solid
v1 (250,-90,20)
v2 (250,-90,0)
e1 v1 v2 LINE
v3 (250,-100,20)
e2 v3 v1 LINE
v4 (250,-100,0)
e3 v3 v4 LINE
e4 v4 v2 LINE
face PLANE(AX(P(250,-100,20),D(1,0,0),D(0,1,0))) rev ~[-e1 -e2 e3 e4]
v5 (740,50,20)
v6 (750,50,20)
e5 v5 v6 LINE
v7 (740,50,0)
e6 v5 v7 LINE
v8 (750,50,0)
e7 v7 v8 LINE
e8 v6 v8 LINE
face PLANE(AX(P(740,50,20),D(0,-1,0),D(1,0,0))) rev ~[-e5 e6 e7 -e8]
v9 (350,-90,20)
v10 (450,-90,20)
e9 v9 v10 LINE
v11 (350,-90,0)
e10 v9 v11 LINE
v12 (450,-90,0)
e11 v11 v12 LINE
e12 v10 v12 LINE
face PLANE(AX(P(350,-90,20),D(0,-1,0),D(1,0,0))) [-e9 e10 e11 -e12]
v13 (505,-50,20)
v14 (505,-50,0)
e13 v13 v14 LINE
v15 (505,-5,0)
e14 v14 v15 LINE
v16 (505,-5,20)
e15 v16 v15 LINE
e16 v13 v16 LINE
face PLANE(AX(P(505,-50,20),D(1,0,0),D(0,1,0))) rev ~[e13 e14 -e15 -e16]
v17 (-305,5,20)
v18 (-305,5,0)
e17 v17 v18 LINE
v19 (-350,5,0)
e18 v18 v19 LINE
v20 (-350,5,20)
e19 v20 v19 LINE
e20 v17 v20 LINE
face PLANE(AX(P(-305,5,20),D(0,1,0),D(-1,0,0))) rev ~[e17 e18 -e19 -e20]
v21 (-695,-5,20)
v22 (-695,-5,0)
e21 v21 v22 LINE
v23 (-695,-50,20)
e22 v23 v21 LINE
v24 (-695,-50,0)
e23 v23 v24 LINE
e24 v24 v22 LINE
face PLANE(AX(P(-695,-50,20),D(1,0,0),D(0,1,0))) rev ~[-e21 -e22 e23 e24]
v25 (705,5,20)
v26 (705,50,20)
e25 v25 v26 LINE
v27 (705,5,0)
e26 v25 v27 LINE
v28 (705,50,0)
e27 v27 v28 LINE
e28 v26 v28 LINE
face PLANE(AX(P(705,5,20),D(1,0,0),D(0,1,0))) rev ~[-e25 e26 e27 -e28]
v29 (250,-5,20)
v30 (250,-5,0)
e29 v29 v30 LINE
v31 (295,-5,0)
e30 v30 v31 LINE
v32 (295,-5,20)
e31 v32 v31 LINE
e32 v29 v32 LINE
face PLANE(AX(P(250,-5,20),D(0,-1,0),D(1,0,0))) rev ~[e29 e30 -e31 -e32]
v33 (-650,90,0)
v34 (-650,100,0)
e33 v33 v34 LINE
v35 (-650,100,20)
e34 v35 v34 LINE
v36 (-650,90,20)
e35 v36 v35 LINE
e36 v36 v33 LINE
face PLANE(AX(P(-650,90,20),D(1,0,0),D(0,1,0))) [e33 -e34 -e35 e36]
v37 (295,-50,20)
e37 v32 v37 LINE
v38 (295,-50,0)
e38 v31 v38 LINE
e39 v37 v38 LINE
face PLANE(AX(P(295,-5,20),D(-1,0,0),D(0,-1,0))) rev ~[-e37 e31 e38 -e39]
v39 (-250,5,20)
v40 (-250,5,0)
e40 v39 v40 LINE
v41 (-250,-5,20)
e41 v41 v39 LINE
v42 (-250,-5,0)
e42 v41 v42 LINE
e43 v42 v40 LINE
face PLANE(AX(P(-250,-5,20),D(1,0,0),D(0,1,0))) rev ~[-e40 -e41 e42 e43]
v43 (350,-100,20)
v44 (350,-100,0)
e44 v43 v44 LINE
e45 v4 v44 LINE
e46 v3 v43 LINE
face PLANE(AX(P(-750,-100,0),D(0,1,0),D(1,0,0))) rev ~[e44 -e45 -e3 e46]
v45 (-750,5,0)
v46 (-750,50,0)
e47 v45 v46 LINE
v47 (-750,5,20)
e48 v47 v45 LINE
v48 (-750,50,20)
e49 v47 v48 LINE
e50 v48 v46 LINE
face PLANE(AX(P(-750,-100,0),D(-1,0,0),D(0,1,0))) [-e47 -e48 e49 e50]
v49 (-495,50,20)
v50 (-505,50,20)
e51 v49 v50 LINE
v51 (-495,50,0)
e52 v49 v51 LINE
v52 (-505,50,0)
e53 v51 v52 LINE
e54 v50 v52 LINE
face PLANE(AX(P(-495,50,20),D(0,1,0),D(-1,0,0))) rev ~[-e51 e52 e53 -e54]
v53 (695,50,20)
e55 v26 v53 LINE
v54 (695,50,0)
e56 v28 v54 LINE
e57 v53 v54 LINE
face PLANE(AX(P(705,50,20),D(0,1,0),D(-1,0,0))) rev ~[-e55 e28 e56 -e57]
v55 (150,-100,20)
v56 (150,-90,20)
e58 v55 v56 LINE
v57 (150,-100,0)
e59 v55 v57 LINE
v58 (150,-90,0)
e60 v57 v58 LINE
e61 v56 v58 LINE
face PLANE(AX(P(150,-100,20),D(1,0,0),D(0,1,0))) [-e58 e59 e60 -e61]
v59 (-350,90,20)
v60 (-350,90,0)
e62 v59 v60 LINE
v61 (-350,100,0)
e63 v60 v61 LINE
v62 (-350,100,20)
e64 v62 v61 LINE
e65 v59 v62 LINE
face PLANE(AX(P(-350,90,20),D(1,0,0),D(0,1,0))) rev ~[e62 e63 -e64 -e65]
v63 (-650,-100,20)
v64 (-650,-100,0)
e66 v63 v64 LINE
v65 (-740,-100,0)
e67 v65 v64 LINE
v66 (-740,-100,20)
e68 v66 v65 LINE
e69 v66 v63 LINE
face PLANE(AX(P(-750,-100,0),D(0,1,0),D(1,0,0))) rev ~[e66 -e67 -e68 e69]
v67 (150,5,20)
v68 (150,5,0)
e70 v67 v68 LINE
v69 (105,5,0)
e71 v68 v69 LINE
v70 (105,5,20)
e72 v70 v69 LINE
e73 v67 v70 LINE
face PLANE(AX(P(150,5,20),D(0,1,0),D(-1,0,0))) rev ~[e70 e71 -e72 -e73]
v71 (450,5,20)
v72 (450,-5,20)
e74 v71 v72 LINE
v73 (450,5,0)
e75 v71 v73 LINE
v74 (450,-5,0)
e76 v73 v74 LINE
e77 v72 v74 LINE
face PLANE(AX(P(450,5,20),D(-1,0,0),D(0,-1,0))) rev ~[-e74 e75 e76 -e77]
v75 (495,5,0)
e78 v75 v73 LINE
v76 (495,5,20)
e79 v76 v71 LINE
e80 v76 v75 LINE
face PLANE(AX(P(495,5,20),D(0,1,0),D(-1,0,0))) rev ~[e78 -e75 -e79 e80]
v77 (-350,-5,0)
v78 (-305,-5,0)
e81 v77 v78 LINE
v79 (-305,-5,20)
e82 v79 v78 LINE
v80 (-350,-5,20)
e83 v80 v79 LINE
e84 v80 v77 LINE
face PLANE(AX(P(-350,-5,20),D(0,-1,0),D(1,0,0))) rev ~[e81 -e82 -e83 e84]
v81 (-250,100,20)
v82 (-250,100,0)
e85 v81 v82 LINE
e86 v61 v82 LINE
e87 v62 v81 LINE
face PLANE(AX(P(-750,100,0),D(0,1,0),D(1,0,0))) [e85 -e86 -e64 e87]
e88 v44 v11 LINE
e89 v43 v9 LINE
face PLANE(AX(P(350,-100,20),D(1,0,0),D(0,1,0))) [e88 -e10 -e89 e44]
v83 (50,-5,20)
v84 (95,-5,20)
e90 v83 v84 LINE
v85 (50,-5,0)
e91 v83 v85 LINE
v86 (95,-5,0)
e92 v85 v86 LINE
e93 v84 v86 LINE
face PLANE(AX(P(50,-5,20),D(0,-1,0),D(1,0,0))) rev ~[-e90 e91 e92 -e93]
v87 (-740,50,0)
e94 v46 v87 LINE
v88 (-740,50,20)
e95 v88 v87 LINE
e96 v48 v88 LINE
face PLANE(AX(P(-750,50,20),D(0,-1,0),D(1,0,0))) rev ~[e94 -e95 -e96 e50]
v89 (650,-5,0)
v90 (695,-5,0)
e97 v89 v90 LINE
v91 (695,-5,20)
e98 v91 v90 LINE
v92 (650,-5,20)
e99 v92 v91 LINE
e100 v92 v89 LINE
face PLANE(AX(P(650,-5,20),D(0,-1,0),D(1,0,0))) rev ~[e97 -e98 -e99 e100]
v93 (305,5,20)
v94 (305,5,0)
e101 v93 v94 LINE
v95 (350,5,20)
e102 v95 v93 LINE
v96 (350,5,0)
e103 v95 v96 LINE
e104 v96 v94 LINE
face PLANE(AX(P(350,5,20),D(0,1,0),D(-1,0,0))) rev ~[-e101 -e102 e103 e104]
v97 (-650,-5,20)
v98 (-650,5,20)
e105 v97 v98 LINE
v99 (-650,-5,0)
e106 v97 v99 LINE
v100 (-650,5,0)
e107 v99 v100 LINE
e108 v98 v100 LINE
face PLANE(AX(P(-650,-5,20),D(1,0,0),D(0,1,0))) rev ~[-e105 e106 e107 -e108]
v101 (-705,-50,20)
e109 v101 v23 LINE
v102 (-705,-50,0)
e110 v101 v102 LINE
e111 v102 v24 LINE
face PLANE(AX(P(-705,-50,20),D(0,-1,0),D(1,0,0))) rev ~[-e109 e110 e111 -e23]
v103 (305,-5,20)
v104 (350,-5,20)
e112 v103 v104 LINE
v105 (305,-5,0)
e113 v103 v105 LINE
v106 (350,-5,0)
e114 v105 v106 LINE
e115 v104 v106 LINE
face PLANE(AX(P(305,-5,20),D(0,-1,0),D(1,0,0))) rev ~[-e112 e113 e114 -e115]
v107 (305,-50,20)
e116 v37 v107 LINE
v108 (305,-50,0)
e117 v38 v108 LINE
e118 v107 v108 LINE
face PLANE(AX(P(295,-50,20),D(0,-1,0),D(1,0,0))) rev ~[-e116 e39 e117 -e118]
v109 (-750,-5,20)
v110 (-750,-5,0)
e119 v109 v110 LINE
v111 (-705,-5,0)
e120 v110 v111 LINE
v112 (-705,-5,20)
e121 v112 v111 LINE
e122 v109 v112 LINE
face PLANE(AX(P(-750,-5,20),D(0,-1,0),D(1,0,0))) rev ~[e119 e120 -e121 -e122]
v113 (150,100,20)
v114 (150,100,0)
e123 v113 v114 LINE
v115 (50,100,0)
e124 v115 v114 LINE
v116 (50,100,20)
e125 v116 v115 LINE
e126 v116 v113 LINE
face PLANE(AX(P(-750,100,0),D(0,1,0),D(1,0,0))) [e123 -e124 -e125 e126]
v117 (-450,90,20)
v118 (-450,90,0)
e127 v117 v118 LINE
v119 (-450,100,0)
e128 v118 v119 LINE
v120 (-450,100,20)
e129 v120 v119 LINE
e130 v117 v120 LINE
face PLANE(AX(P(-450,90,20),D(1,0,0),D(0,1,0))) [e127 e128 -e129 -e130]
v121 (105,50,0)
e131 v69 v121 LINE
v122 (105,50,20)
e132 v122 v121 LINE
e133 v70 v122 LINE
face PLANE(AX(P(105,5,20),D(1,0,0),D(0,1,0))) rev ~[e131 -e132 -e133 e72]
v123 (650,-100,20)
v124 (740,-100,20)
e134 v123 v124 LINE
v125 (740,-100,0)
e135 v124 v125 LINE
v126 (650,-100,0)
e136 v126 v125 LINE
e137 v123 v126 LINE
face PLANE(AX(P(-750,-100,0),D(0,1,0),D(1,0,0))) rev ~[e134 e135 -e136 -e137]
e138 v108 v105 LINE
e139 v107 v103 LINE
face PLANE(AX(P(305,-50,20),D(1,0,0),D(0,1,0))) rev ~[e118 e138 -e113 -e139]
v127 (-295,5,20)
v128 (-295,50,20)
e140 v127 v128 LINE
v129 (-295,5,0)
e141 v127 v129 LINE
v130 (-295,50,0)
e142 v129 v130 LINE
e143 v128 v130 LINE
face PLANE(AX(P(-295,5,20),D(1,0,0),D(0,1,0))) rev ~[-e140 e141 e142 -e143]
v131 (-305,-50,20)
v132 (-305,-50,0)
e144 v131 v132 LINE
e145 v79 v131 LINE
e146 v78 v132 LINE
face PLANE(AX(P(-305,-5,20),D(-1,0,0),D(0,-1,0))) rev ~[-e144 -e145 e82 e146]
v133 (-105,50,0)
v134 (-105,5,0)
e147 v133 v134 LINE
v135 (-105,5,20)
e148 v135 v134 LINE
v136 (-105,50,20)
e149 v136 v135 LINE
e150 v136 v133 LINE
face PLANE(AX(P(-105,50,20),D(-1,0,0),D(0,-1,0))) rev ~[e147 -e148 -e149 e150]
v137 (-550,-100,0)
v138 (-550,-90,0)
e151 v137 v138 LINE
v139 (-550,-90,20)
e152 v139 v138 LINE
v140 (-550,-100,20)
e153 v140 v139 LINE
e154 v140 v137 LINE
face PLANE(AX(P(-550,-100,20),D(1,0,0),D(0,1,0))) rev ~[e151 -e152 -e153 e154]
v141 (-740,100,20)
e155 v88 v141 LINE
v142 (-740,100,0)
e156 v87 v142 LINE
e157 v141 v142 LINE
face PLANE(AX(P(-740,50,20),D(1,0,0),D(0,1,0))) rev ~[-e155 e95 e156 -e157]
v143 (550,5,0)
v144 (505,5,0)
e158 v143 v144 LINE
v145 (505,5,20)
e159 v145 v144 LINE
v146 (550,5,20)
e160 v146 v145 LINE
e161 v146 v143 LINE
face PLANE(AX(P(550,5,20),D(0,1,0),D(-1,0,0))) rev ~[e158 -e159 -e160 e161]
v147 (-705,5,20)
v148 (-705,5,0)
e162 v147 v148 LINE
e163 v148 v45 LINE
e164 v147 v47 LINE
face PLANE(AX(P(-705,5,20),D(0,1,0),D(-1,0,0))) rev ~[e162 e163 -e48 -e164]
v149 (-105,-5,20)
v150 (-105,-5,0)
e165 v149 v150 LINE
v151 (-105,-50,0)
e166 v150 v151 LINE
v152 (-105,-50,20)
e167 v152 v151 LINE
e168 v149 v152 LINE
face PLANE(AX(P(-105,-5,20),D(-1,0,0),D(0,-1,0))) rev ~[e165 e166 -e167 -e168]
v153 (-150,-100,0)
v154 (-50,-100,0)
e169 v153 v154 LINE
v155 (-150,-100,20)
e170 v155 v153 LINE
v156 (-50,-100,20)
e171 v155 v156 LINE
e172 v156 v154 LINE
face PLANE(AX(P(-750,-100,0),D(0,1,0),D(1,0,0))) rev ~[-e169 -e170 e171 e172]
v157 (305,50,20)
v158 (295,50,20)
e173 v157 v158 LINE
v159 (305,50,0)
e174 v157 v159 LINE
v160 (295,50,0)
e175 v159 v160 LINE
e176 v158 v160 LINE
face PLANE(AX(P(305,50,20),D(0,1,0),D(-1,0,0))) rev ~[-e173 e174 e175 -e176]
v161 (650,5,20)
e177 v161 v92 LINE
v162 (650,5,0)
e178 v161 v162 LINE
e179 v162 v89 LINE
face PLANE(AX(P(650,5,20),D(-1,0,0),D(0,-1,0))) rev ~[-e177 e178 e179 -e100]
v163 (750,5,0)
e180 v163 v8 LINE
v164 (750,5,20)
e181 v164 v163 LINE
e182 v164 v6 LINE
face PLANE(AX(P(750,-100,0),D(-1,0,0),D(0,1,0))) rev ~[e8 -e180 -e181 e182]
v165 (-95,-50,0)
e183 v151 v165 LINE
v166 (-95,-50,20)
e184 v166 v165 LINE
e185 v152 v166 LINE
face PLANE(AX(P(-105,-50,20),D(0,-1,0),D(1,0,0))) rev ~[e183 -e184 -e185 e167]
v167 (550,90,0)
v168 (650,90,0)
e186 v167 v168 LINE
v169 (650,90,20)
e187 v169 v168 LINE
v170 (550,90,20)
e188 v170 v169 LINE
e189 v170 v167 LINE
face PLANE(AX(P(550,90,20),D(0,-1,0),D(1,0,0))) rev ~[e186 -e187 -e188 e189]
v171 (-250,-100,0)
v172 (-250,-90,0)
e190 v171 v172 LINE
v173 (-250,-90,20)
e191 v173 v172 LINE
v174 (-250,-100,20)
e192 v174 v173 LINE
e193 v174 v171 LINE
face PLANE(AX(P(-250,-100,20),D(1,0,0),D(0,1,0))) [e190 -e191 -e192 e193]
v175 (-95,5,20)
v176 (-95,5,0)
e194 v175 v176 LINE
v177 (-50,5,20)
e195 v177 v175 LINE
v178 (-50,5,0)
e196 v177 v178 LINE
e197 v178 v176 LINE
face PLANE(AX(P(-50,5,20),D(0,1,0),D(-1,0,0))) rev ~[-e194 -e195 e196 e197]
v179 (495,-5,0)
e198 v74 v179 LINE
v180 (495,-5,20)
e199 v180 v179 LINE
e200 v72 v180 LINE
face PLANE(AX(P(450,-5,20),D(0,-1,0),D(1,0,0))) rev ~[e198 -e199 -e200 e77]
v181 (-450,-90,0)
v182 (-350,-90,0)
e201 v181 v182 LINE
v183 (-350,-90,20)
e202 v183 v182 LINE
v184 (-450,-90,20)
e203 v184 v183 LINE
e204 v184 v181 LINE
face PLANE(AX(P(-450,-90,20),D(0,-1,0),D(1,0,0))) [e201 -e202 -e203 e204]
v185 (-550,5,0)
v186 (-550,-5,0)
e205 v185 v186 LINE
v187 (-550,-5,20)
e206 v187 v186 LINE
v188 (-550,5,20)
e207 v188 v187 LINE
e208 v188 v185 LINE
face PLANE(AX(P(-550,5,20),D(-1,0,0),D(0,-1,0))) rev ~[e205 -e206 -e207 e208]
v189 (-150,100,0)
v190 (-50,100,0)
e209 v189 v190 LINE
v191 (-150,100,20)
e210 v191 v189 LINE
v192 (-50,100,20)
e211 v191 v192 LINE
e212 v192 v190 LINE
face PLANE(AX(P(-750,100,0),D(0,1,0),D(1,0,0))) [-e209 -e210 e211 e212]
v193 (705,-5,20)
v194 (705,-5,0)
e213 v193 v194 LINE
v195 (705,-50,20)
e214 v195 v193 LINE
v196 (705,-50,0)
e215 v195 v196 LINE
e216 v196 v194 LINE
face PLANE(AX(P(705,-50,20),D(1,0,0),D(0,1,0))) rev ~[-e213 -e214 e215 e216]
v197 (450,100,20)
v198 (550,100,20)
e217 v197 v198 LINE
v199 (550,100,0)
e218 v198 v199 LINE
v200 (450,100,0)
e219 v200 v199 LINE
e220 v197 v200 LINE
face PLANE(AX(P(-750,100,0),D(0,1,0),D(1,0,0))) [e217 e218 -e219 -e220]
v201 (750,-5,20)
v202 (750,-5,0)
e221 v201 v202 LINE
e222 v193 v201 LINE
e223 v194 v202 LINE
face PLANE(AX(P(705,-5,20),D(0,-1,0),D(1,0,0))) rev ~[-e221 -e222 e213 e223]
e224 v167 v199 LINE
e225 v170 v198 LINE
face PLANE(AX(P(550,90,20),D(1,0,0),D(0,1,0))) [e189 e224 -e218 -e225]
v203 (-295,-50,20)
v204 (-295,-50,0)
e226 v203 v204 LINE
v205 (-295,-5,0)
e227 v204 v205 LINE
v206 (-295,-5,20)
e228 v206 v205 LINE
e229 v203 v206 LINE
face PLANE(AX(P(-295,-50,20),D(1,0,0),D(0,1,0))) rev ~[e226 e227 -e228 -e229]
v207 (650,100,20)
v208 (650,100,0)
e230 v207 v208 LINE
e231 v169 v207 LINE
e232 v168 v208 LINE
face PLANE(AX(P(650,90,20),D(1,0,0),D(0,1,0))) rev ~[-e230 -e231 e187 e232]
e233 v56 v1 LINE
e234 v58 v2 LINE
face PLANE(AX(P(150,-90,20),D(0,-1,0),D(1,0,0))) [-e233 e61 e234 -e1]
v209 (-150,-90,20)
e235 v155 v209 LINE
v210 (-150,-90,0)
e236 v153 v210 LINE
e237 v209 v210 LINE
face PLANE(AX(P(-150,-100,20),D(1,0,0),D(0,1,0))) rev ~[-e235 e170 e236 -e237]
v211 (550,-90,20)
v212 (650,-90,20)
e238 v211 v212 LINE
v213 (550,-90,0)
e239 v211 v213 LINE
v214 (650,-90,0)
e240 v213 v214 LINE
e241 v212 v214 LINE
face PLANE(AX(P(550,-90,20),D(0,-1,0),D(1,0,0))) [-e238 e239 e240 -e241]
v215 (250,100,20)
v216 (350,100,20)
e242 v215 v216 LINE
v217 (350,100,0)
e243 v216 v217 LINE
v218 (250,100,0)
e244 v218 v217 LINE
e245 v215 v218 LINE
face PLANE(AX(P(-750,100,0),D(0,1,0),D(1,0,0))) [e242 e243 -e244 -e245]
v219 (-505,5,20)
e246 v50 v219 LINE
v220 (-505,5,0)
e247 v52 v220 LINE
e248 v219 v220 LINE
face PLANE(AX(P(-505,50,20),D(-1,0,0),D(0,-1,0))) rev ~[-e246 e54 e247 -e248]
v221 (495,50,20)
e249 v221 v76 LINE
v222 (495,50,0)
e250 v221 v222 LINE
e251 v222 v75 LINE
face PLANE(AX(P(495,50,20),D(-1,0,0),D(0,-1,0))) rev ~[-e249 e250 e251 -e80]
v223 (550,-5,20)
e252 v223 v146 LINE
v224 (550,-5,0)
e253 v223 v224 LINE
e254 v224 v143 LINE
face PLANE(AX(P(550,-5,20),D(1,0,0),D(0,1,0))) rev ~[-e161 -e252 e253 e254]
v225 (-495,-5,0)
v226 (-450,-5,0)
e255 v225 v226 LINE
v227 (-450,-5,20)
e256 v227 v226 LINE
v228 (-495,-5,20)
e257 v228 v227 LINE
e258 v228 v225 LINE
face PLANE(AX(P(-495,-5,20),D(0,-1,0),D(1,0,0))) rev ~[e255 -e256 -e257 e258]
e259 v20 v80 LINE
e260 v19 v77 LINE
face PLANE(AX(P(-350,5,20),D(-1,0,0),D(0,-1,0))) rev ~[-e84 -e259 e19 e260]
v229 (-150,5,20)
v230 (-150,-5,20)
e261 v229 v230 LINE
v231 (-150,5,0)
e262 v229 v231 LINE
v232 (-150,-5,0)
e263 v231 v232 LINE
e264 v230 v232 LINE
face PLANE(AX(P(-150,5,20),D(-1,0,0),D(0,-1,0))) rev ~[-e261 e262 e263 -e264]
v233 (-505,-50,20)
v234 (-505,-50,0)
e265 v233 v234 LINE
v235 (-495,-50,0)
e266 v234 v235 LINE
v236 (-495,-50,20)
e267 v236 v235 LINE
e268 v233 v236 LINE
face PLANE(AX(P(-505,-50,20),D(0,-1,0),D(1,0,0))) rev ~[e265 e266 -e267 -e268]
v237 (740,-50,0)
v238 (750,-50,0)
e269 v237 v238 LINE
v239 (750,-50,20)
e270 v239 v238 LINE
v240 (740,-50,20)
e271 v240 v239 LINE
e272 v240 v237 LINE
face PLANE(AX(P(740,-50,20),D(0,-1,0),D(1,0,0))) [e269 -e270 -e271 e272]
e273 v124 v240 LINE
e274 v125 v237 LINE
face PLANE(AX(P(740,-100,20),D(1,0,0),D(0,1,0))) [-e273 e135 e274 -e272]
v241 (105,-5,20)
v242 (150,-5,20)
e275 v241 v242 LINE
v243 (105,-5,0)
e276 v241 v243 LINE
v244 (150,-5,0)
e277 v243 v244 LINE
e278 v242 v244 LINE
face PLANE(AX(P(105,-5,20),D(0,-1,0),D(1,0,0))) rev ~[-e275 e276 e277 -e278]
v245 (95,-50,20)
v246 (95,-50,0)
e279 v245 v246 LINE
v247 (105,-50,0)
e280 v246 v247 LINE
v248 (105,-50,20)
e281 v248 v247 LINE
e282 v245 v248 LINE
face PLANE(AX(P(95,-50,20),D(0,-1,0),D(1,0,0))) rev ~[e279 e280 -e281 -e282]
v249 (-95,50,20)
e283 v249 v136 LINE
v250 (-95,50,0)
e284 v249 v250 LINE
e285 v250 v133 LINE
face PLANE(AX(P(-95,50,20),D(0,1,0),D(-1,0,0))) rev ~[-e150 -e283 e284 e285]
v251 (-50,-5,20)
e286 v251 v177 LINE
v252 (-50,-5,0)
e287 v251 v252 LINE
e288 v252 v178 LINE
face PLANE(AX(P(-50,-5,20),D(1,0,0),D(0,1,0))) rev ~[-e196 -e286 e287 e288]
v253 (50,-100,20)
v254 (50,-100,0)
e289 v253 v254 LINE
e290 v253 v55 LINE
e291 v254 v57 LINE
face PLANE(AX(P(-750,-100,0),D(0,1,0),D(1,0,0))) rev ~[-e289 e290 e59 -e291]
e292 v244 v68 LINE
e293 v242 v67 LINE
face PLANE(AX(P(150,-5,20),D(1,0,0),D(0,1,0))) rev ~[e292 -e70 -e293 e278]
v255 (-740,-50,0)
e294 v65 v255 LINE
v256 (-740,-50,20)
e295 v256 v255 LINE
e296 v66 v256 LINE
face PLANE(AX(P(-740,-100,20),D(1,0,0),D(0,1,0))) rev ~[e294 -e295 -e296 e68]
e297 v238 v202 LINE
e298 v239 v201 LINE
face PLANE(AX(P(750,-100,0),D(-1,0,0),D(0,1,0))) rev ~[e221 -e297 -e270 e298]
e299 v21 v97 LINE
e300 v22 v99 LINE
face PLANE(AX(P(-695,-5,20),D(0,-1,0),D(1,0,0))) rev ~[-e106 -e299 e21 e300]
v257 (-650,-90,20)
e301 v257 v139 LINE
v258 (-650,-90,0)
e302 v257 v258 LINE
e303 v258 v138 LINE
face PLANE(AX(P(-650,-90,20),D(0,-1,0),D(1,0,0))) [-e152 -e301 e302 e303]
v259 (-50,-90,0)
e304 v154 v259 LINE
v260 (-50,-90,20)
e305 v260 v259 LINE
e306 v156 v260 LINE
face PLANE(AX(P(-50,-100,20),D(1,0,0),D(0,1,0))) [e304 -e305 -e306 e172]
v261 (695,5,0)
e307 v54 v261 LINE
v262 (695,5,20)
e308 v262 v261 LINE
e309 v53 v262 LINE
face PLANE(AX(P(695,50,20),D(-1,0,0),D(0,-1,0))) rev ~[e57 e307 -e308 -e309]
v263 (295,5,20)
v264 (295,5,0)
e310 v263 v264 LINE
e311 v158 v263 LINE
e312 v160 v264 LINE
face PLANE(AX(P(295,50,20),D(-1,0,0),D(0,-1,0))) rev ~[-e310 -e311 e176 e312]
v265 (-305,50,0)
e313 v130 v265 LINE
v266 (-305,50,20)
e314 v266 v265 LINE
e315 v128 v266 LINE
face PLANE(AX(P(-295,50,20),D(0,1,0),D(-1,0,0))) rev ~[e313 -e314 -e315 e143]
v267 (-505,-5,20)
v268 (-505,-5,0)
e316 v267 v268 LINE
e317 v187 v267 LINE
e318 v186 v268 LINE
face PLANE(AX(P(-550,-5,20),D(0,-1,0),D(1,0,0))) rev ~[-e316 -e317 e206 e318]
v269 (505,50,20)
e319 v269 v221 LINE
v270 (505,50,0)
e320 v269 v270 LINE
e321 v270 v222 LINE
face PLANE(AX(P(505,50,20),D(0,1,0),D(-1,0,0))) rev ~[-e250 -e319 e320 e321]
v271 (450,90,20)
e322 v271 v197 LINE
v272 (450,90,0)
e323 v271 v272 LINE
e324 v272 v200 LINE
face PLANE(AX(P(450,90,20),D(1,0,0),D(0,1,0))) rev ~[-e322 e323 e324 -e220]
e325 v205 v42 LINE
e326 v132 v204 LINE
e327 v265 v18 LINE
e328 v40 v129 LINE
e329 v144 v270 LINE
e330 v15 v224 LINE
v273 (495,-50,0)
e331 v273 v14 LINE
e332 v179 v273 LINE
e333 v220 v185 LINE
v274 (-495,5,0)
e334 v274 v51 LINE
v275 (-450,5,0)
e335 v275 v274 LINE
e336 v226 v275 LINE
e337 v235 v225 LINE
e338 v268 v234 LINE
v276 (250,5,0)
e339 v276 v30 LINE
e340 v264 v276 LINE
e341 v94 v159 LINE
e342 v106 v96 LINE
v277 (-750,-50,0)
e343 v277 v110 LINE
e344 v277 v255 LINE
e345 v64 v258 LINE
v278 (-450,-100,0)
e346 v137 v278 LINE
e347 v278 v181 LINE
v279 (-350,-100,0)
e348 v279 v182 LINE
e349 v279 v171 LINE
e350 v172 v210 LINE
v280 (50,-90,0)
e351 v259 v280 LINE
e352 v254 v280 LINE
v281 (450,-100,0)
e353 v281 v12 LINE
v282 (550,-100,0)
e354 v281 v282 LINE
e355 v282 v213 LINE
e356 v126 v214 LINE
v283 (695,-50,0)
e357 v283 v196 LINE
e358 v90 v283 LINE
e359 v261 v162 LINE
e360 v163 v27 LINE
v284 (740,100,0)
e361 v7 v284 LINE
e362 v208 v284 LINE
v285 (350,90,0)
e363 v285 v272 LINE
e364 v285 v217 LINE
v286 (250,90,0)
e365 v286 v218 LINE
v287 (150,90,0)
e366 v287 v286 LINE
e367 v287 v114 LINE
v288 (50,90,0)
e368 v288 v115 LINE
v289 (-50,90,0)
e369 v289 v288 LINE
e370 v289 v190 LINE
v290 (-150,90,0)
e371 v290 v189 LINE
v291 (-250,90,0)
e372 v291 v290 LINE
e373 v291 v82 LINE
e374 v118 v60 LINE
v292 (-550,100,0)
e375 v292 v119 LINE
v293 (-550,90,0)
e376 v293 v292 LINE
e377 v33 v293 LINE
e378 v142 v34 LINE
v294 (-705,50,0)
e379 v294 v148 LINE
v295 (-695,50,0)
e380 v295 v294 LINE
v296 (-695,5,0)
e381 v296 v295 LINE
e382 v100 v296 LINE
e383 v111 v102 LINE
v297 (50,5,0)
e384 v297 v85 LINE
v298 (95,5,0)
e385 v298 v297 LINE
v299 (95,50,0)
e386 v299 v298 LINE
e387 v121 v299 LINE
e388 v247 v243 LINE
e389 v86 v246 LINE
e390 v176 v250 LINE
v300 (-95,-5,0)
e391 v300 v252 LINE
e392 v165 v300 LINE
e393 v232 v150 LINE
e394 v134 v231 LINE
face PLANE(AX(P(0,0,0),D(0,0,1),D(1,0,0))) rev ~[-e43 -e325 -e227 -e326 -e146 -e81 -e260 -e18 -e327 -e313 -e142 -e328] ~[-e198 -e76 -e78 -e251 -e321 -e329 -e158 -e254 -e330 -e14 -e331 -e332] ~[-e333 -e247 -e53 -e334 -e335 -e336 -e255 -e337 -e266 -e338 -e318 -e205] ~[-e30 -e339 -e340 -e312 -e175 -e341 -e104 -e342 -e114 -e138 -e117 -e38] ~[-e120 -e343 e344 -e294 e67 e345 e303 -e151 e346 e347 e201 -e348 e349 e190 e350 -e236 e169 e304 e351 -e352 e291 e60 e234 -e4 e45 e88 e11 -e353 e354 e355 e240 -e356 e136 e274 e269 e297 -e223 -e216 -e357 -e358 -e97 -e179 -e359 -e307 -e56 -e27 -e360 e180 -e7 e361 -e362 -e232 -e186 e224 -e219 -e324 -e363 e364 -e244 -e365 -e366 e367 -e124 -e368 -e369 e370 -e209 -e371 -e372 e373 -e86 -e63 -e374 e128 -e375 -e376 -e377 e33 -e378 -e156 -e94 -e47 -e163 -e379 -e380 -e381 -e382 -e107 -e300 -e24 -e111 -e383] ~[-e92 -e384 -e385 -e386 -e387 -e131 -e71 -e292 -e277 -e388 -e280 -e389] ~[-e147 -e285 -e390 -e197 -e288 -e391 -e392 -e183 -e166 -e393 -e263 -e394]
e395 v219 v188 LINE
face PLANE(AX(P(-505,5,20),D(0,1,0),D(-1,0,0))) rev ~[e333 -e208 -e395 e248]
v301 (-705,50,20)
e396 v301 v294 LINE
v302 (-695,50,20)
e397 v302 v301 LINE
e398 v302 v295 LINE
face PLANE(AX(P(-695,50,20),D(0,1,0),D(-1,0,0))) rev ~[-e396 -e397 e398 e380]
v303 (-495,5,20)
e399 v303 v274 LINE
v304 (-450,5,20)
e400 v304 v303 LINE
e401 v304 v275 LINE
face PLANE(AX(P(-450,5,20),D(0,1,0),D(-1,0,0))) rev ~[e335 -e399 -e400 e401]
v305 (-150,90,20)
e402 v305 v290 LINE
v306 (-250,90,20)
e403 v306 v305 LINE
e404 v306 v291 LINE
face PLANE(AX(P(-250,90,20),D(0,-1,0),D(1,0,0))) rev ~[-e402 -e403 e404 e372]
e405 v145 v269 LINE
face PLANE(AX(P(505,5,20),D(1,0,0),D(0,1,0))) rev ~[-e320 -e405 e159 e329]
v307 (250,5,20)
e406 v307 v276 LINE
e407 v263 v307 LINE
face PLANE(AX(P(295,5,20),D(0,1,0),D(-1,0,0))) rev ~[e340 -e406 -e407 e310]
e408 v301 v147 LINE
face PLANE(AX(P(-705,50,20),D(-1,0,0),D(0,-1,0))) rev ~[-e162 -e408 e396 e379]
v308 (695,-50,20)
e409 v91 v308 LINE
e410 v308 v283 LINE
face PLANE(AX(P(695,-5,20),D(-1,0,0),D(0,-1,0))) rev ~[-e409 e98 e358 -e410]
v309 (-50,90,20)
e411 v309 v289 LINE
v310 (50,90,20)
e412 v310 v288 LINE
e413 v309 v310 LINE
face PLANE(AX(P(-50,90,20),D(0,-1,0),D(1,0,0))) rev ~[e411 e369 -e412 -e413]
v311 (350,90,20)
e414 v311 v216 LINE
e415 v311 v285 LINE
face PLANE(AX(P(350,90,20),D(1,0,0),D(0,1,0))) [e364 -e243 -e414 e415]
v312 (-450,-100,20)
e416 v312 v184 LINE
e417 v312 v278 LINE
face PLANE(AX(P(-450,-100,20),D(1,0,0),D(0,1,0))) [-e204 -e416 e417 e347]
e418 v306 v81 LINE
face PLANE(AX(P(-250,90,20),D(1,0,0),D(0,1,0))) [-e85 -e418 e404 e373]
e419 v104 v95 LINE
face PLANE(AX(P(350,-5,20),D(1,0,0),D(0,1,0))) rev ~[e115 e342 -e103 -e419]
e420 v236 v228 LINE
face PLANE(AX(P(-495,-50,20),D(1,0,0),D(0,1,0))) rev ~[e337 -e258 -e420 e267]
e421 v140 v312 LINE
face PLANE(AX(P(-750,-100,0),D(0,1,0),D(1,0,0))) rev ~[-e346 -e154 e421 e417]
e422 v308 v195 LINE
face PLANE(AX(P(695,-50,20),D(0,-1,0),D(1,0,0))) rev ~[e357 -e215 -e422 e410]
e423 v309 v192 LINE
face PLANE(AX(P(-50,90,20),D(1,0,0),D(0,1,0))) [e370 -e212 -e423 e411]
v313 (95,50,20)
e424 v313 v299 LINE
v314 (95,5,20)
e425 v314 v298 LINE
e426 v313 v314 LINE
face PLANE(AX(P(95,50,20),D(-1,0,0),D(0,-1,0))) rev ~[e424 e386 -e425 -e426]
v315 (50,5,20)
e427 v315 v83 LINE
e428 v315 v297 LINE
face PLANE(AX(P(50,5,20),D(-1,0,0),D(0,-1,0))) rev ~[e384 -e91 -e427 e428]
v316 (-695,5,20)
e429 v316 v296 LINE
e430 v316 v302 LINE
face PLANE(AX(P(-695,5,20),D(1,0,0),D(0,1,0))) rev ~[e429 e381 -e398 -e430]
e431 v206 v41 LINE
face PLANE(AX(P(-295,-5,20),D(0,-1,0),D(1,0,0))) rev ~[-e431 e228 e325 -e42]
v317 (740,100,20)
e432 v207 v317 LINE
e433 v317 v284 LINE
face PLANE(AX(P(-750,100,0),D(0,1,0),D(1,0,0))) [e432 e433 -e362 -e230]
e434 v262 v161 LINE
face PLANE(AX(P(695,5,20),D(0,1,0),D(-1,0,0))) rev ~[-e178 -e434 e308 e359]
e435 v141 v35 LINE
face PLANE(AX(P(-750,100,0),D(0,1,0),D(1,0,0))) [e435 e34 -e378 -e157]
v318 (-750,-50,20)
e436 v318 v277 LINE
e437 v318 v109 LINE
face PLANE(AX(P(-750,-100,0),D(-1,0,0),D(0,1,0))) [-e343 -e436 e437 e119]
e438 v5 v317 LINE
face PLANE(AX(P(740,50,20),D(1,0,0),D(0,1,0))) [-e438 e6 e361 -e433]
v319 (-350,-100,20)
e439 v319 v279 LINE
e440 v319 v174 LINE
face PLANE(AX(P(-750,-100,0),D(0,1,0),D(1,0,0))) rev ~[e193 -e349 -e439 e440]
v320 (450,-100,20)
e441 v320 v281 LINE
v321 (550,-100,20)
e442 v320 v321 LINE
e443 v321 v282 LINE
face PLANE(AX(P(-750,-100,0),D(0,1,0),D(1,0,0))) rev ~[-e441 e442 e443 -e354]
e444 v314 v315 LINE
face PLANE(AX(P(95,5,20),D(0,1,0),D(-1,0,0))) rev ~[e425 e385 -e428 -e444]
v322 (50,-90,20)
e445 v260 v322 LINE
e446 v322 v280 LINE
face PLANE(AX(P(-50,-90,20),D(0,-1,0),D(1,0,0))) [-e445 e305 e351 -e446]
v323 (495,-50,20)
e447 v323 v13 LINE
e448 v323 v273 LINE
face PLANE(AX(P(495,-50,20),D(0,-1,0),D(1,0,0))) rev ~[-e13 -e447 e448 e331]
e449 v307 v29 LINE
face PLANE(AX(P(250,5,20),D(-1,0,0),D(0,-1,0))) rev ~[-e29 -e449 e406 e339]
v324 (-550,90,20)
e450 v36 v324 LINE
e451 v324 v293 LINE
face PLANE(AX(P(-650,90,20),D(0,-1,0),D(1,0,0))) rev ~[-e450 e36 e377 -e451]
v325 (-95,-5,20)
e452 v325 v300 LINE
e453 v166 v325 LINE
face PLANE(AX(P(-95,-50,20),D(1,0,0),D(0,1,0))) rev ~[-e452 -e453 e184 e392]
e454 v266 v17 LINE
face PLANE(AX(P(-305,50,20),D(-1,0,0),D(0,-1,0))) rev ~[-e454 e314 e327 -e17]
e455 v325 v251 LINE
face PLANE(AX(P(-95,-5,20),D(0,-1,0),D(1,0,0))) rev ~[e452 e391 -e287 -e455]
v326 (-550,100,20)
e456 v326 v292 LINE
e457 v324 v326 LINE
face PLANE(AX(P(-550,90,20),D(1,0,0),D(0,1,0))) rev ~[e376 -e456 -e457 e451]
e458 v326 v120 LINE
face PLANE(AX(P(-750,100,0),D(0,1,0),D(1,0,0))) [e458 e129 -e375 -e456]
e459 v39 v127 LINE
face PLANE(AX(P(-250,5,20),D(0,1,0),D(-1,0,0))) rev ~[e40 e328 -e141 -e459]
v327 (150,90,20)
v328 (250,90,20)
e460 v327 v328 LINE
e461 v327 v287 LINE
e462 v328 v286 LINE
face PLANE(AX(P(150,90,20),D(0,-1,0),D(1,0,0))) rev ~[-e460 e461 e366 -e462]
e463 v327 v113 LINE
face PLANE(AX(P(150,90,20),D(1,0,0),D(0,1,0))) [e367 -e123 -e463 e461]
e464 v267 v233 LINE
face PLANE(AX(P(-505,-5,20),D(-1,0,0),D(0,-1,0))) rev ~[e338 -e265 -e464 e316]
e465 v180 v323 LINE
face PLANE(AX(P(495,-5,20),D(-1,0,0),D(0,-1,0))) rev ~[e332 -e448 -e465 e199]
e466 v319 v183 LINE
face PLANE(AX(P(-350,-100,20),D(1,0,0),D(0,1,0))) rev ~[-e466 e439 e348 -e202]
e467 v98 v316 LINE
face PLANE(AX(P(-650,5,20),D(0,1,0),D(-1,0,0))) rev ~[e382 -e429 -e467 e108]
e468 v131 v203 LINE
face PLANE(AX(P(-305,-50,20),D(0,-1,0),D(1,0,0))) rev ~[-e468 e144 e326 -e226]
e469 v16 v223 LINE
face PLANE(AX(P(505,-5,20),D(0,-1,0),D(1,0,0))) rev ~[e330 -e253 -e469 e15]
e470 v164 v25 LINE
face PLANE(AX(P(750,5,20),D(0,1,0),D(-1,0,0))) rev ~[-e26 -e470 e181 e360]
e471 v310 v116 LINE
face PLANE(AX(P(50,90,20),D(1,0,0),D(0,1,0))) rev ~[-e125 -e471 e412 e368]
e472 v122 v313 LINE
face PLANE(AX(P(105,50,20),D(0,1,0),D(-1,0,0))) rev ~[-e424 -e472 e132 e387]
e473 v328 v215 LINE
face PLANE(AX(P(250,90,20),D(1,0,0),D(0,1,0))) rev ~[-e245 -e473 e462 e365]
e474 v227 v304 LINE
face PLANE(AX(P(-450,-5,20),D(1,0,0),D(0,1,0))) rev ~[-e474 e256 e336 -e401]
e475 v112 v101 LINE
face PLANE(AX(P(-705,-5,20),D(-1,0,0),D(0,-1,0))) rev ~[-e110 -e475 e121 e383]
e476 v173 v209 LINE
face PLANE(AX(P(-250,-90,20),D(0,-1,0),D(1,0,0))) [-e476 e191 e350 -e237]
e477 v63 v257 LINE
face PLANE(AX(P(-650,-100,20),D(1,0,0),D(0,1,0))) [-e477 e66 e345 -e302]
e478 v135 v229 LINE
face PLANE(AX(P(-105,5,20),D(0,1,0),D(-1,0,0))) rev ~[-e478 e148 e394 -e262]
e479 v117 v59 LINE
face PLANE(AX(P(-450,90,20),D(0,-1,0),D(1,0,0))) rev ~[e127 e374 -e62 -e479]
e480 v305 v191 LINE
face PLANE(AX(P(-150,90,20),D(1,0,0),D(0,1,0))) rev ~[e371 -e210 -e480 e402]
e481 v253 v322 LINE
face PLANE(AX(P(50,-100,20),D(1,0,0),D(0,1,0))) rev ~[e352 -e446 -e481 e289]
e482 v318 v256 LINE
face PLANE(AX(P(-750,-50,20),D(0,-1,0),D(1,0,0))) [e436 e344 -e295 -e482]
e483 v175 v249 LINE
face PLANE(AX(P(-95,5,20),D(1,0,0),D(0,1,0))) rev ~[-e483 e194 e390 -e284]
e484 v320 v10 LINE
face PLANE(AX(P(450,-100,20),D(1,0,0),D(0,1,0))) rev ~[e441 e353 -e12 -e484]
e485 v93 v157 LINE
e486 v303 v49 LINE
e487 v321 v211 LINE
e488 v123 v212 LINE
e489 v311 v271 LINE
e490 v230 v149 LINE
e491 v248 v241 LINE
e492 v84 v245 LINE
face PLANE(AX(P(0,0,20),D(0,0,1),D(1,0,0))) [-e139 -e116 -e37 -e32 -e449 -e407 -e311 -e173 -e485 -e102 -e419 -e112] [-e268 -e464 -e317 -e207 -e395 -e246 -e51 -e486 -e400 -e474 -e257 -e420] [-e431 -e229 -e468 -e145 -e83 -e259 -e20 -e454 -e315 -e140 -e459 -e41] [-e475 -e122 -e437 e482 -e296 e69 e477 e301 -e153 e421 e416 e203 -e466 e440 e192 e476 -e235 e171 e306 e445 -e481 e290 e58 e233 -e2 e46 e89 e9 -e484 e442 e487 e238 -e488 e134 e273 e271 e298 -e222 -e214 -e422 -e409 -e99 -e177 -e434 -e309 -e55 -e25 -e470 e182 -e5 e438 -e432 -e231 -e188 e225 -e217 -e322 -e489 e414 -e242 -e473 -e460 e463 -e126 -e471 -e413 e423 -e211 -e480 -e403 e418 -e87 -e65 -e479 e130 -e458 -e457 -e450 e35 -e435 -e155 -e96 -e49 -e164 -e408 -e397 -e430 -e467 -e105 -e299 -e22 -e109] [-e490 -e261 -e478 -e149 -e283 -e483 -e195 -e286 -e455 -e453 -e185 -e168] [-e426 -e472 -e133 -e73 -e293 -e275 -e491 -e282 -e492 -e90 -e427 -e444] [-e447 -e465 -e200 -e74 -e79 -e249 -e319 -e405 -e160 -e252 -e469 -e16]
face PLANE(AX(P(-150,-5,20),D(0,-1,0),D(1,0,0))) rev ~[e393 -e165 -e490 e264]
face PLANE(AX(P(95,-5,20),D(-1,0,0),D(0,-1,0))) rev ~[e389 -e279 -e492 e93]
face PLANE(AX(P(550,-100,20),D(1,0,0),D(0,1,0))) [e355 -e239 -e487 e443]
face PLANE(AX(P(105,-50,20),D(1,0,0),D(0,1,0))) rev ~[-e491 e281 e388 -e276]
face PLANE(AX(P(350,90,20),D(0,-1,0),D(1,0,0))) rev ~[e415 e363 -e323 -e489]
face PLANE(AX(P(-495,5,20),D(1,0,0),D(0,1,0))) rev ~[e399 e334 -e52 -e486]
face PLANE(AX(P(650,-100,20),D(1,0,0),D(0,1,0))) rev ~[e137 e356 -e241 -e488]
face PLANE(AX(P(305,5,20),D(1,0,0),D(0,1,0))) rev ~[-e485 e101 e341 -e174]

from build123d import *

# Parameters (mm, degrees)
F0_W     = 1500
F0_H     = 200
F1_DEPTH = 20
F2_W     = 100
F2_H     = 10
F3_DEPTH = 20.001
F5_DEPTH = 20.001
F6_W     = 10
F6_H     = 50
F7_DEPTH = 20.001


with BuildPart() as f1:
    # F0 (on Top) → F1 (new body)
    with BuildSketch(Plane.XY):
        Rectangle(F0_W, F0_H)
    extrude(amount=F1_DEPTH)

    # F2 (on face) → F3 (cut, through all)
    with BuildSketch(Plane.XY.offset(20)):
        with Locations((-600, 95)):
            Rectangle(F2_W, F2_H)
        with Locations((-600, -95)):
            Rectangle(F2_W, F2_H)
        with Locations((-400, 95)):
            Rectangle(F2_W, F2_H)
        with Locations((-400, -95)):
            Rectangle(F2_W, F2_H)
        with Locations((-200, 95)):
            Rectangle(F2_W, F2_H)
        with Locations((-200, -95)):
            Rectangle(F2_W, F2_H)
        with Locations((0, 95)):
            Rectangle(F2_W, F2_H)
        with Locations((0, -95)):
            Rectangle(F2_W, F2_H)
        with Locations((200, 95)):
            Rectangle(F2_W, F2_H)
        with Locations((200, -95)):
            Rectangle(F2_W, F2_H)
        with Locations((400, 95)):
            Rectangle(F2_W, F2_H)
        with Locations((400, -95)):
            Rectangle(F2_W, F2_H)
        with Locations((600, 95)):
            Rectangle(F2_W, F2_H)
        with Locations((600, -95)):
            Rectangle(F2_W, F2_H)
    extrude(amount=-F3_DEPTH, mode=Mode.SUBTRACT)

    # F4 (on face) → F5 (cut, through all)
    with BuildSketch(Plane.XY.offset(20)):
        Polygon((-695, 50), (-705, 50), (-705, 5), (-750, 5), (-750, -5), (-705, -5), (-705, -50), (-695, -50), (-695, -5), (-650, -5), (-650, 5), (-695, 5), align=None)
        Polygon((-495, -50), (-495, -5), (-450, -5), (-450, 5), (-495, 5), (-495, 50), (-505, 50), (-505, 5), (-550, 5), (-550, -5), (-505, -5), (-505, -50), align=None)
        Polygon((-295, -50), (-295, -5), (-250, -5), (-250, 5), (-295, 5), (-295, 50), (-305, 50), (-305, 5), (-350, 5), (-350, -5), (-305, -5), (-305, -50), align=None)
        Polygon((-95, -50), (-95, -5), (-50, -5), (-50, 5), (-95, 5), (-95, 50), (-105, 50), (-105, 5), (-150, 5), (-150, -5), (-105, -5), (-105, -50), align=None)
        Polygon((105, -50), (105, -5), (150, -5), (150, 5), (105, 5), (105, 50), (95, 50), (95, 5), (50, 5), (50, -5), (95, -5), (95, -50), align=None)
        Polygon((305, -50), (305, -5), (350, -5), (350, 5), (305, 5), (305, 50), (295, 50), (295, 5), (250, 5), (250, -5), (295, -5), (295, -50), align=None)
        Polygon((505, -50), (505, -5), (550, -5), (550, 5), (505, 5), (505, 50), (495, 50), (495, 5), (450, 5), (450, -5), (495, -5), (495, -50), align=None)
        Polygon((705, -50), (705, -5), (750, -5), (750, 5), (705, 5), (705, 50), (695, 50), (695, 5), (650, 5), (650, -5), (695, -5), (695, -50), align=None)
    extrude(amount=-F5_DEPTH, mode=Mode.SUBTRACT)

    # F6 (on face) → F7 (cut, through all)
    with BuildSketch(Plane.XY.offset(20)):
        with Locations((-745, 75)):
            Rectangle(F6_W, F6_H)
        with Locations((-745, -75)):
            Rectangle(F6_W, F6_H)
        with Locations((745, 75)):
            Rectangle(F6_W, F6_H)
        with Locations((745, -75)):
            Rectangle(F6_W, F6_H)
    extrude(amount=-F7_DEPTH, mode=Mode.SUBTRACT)


solid = f1.part
